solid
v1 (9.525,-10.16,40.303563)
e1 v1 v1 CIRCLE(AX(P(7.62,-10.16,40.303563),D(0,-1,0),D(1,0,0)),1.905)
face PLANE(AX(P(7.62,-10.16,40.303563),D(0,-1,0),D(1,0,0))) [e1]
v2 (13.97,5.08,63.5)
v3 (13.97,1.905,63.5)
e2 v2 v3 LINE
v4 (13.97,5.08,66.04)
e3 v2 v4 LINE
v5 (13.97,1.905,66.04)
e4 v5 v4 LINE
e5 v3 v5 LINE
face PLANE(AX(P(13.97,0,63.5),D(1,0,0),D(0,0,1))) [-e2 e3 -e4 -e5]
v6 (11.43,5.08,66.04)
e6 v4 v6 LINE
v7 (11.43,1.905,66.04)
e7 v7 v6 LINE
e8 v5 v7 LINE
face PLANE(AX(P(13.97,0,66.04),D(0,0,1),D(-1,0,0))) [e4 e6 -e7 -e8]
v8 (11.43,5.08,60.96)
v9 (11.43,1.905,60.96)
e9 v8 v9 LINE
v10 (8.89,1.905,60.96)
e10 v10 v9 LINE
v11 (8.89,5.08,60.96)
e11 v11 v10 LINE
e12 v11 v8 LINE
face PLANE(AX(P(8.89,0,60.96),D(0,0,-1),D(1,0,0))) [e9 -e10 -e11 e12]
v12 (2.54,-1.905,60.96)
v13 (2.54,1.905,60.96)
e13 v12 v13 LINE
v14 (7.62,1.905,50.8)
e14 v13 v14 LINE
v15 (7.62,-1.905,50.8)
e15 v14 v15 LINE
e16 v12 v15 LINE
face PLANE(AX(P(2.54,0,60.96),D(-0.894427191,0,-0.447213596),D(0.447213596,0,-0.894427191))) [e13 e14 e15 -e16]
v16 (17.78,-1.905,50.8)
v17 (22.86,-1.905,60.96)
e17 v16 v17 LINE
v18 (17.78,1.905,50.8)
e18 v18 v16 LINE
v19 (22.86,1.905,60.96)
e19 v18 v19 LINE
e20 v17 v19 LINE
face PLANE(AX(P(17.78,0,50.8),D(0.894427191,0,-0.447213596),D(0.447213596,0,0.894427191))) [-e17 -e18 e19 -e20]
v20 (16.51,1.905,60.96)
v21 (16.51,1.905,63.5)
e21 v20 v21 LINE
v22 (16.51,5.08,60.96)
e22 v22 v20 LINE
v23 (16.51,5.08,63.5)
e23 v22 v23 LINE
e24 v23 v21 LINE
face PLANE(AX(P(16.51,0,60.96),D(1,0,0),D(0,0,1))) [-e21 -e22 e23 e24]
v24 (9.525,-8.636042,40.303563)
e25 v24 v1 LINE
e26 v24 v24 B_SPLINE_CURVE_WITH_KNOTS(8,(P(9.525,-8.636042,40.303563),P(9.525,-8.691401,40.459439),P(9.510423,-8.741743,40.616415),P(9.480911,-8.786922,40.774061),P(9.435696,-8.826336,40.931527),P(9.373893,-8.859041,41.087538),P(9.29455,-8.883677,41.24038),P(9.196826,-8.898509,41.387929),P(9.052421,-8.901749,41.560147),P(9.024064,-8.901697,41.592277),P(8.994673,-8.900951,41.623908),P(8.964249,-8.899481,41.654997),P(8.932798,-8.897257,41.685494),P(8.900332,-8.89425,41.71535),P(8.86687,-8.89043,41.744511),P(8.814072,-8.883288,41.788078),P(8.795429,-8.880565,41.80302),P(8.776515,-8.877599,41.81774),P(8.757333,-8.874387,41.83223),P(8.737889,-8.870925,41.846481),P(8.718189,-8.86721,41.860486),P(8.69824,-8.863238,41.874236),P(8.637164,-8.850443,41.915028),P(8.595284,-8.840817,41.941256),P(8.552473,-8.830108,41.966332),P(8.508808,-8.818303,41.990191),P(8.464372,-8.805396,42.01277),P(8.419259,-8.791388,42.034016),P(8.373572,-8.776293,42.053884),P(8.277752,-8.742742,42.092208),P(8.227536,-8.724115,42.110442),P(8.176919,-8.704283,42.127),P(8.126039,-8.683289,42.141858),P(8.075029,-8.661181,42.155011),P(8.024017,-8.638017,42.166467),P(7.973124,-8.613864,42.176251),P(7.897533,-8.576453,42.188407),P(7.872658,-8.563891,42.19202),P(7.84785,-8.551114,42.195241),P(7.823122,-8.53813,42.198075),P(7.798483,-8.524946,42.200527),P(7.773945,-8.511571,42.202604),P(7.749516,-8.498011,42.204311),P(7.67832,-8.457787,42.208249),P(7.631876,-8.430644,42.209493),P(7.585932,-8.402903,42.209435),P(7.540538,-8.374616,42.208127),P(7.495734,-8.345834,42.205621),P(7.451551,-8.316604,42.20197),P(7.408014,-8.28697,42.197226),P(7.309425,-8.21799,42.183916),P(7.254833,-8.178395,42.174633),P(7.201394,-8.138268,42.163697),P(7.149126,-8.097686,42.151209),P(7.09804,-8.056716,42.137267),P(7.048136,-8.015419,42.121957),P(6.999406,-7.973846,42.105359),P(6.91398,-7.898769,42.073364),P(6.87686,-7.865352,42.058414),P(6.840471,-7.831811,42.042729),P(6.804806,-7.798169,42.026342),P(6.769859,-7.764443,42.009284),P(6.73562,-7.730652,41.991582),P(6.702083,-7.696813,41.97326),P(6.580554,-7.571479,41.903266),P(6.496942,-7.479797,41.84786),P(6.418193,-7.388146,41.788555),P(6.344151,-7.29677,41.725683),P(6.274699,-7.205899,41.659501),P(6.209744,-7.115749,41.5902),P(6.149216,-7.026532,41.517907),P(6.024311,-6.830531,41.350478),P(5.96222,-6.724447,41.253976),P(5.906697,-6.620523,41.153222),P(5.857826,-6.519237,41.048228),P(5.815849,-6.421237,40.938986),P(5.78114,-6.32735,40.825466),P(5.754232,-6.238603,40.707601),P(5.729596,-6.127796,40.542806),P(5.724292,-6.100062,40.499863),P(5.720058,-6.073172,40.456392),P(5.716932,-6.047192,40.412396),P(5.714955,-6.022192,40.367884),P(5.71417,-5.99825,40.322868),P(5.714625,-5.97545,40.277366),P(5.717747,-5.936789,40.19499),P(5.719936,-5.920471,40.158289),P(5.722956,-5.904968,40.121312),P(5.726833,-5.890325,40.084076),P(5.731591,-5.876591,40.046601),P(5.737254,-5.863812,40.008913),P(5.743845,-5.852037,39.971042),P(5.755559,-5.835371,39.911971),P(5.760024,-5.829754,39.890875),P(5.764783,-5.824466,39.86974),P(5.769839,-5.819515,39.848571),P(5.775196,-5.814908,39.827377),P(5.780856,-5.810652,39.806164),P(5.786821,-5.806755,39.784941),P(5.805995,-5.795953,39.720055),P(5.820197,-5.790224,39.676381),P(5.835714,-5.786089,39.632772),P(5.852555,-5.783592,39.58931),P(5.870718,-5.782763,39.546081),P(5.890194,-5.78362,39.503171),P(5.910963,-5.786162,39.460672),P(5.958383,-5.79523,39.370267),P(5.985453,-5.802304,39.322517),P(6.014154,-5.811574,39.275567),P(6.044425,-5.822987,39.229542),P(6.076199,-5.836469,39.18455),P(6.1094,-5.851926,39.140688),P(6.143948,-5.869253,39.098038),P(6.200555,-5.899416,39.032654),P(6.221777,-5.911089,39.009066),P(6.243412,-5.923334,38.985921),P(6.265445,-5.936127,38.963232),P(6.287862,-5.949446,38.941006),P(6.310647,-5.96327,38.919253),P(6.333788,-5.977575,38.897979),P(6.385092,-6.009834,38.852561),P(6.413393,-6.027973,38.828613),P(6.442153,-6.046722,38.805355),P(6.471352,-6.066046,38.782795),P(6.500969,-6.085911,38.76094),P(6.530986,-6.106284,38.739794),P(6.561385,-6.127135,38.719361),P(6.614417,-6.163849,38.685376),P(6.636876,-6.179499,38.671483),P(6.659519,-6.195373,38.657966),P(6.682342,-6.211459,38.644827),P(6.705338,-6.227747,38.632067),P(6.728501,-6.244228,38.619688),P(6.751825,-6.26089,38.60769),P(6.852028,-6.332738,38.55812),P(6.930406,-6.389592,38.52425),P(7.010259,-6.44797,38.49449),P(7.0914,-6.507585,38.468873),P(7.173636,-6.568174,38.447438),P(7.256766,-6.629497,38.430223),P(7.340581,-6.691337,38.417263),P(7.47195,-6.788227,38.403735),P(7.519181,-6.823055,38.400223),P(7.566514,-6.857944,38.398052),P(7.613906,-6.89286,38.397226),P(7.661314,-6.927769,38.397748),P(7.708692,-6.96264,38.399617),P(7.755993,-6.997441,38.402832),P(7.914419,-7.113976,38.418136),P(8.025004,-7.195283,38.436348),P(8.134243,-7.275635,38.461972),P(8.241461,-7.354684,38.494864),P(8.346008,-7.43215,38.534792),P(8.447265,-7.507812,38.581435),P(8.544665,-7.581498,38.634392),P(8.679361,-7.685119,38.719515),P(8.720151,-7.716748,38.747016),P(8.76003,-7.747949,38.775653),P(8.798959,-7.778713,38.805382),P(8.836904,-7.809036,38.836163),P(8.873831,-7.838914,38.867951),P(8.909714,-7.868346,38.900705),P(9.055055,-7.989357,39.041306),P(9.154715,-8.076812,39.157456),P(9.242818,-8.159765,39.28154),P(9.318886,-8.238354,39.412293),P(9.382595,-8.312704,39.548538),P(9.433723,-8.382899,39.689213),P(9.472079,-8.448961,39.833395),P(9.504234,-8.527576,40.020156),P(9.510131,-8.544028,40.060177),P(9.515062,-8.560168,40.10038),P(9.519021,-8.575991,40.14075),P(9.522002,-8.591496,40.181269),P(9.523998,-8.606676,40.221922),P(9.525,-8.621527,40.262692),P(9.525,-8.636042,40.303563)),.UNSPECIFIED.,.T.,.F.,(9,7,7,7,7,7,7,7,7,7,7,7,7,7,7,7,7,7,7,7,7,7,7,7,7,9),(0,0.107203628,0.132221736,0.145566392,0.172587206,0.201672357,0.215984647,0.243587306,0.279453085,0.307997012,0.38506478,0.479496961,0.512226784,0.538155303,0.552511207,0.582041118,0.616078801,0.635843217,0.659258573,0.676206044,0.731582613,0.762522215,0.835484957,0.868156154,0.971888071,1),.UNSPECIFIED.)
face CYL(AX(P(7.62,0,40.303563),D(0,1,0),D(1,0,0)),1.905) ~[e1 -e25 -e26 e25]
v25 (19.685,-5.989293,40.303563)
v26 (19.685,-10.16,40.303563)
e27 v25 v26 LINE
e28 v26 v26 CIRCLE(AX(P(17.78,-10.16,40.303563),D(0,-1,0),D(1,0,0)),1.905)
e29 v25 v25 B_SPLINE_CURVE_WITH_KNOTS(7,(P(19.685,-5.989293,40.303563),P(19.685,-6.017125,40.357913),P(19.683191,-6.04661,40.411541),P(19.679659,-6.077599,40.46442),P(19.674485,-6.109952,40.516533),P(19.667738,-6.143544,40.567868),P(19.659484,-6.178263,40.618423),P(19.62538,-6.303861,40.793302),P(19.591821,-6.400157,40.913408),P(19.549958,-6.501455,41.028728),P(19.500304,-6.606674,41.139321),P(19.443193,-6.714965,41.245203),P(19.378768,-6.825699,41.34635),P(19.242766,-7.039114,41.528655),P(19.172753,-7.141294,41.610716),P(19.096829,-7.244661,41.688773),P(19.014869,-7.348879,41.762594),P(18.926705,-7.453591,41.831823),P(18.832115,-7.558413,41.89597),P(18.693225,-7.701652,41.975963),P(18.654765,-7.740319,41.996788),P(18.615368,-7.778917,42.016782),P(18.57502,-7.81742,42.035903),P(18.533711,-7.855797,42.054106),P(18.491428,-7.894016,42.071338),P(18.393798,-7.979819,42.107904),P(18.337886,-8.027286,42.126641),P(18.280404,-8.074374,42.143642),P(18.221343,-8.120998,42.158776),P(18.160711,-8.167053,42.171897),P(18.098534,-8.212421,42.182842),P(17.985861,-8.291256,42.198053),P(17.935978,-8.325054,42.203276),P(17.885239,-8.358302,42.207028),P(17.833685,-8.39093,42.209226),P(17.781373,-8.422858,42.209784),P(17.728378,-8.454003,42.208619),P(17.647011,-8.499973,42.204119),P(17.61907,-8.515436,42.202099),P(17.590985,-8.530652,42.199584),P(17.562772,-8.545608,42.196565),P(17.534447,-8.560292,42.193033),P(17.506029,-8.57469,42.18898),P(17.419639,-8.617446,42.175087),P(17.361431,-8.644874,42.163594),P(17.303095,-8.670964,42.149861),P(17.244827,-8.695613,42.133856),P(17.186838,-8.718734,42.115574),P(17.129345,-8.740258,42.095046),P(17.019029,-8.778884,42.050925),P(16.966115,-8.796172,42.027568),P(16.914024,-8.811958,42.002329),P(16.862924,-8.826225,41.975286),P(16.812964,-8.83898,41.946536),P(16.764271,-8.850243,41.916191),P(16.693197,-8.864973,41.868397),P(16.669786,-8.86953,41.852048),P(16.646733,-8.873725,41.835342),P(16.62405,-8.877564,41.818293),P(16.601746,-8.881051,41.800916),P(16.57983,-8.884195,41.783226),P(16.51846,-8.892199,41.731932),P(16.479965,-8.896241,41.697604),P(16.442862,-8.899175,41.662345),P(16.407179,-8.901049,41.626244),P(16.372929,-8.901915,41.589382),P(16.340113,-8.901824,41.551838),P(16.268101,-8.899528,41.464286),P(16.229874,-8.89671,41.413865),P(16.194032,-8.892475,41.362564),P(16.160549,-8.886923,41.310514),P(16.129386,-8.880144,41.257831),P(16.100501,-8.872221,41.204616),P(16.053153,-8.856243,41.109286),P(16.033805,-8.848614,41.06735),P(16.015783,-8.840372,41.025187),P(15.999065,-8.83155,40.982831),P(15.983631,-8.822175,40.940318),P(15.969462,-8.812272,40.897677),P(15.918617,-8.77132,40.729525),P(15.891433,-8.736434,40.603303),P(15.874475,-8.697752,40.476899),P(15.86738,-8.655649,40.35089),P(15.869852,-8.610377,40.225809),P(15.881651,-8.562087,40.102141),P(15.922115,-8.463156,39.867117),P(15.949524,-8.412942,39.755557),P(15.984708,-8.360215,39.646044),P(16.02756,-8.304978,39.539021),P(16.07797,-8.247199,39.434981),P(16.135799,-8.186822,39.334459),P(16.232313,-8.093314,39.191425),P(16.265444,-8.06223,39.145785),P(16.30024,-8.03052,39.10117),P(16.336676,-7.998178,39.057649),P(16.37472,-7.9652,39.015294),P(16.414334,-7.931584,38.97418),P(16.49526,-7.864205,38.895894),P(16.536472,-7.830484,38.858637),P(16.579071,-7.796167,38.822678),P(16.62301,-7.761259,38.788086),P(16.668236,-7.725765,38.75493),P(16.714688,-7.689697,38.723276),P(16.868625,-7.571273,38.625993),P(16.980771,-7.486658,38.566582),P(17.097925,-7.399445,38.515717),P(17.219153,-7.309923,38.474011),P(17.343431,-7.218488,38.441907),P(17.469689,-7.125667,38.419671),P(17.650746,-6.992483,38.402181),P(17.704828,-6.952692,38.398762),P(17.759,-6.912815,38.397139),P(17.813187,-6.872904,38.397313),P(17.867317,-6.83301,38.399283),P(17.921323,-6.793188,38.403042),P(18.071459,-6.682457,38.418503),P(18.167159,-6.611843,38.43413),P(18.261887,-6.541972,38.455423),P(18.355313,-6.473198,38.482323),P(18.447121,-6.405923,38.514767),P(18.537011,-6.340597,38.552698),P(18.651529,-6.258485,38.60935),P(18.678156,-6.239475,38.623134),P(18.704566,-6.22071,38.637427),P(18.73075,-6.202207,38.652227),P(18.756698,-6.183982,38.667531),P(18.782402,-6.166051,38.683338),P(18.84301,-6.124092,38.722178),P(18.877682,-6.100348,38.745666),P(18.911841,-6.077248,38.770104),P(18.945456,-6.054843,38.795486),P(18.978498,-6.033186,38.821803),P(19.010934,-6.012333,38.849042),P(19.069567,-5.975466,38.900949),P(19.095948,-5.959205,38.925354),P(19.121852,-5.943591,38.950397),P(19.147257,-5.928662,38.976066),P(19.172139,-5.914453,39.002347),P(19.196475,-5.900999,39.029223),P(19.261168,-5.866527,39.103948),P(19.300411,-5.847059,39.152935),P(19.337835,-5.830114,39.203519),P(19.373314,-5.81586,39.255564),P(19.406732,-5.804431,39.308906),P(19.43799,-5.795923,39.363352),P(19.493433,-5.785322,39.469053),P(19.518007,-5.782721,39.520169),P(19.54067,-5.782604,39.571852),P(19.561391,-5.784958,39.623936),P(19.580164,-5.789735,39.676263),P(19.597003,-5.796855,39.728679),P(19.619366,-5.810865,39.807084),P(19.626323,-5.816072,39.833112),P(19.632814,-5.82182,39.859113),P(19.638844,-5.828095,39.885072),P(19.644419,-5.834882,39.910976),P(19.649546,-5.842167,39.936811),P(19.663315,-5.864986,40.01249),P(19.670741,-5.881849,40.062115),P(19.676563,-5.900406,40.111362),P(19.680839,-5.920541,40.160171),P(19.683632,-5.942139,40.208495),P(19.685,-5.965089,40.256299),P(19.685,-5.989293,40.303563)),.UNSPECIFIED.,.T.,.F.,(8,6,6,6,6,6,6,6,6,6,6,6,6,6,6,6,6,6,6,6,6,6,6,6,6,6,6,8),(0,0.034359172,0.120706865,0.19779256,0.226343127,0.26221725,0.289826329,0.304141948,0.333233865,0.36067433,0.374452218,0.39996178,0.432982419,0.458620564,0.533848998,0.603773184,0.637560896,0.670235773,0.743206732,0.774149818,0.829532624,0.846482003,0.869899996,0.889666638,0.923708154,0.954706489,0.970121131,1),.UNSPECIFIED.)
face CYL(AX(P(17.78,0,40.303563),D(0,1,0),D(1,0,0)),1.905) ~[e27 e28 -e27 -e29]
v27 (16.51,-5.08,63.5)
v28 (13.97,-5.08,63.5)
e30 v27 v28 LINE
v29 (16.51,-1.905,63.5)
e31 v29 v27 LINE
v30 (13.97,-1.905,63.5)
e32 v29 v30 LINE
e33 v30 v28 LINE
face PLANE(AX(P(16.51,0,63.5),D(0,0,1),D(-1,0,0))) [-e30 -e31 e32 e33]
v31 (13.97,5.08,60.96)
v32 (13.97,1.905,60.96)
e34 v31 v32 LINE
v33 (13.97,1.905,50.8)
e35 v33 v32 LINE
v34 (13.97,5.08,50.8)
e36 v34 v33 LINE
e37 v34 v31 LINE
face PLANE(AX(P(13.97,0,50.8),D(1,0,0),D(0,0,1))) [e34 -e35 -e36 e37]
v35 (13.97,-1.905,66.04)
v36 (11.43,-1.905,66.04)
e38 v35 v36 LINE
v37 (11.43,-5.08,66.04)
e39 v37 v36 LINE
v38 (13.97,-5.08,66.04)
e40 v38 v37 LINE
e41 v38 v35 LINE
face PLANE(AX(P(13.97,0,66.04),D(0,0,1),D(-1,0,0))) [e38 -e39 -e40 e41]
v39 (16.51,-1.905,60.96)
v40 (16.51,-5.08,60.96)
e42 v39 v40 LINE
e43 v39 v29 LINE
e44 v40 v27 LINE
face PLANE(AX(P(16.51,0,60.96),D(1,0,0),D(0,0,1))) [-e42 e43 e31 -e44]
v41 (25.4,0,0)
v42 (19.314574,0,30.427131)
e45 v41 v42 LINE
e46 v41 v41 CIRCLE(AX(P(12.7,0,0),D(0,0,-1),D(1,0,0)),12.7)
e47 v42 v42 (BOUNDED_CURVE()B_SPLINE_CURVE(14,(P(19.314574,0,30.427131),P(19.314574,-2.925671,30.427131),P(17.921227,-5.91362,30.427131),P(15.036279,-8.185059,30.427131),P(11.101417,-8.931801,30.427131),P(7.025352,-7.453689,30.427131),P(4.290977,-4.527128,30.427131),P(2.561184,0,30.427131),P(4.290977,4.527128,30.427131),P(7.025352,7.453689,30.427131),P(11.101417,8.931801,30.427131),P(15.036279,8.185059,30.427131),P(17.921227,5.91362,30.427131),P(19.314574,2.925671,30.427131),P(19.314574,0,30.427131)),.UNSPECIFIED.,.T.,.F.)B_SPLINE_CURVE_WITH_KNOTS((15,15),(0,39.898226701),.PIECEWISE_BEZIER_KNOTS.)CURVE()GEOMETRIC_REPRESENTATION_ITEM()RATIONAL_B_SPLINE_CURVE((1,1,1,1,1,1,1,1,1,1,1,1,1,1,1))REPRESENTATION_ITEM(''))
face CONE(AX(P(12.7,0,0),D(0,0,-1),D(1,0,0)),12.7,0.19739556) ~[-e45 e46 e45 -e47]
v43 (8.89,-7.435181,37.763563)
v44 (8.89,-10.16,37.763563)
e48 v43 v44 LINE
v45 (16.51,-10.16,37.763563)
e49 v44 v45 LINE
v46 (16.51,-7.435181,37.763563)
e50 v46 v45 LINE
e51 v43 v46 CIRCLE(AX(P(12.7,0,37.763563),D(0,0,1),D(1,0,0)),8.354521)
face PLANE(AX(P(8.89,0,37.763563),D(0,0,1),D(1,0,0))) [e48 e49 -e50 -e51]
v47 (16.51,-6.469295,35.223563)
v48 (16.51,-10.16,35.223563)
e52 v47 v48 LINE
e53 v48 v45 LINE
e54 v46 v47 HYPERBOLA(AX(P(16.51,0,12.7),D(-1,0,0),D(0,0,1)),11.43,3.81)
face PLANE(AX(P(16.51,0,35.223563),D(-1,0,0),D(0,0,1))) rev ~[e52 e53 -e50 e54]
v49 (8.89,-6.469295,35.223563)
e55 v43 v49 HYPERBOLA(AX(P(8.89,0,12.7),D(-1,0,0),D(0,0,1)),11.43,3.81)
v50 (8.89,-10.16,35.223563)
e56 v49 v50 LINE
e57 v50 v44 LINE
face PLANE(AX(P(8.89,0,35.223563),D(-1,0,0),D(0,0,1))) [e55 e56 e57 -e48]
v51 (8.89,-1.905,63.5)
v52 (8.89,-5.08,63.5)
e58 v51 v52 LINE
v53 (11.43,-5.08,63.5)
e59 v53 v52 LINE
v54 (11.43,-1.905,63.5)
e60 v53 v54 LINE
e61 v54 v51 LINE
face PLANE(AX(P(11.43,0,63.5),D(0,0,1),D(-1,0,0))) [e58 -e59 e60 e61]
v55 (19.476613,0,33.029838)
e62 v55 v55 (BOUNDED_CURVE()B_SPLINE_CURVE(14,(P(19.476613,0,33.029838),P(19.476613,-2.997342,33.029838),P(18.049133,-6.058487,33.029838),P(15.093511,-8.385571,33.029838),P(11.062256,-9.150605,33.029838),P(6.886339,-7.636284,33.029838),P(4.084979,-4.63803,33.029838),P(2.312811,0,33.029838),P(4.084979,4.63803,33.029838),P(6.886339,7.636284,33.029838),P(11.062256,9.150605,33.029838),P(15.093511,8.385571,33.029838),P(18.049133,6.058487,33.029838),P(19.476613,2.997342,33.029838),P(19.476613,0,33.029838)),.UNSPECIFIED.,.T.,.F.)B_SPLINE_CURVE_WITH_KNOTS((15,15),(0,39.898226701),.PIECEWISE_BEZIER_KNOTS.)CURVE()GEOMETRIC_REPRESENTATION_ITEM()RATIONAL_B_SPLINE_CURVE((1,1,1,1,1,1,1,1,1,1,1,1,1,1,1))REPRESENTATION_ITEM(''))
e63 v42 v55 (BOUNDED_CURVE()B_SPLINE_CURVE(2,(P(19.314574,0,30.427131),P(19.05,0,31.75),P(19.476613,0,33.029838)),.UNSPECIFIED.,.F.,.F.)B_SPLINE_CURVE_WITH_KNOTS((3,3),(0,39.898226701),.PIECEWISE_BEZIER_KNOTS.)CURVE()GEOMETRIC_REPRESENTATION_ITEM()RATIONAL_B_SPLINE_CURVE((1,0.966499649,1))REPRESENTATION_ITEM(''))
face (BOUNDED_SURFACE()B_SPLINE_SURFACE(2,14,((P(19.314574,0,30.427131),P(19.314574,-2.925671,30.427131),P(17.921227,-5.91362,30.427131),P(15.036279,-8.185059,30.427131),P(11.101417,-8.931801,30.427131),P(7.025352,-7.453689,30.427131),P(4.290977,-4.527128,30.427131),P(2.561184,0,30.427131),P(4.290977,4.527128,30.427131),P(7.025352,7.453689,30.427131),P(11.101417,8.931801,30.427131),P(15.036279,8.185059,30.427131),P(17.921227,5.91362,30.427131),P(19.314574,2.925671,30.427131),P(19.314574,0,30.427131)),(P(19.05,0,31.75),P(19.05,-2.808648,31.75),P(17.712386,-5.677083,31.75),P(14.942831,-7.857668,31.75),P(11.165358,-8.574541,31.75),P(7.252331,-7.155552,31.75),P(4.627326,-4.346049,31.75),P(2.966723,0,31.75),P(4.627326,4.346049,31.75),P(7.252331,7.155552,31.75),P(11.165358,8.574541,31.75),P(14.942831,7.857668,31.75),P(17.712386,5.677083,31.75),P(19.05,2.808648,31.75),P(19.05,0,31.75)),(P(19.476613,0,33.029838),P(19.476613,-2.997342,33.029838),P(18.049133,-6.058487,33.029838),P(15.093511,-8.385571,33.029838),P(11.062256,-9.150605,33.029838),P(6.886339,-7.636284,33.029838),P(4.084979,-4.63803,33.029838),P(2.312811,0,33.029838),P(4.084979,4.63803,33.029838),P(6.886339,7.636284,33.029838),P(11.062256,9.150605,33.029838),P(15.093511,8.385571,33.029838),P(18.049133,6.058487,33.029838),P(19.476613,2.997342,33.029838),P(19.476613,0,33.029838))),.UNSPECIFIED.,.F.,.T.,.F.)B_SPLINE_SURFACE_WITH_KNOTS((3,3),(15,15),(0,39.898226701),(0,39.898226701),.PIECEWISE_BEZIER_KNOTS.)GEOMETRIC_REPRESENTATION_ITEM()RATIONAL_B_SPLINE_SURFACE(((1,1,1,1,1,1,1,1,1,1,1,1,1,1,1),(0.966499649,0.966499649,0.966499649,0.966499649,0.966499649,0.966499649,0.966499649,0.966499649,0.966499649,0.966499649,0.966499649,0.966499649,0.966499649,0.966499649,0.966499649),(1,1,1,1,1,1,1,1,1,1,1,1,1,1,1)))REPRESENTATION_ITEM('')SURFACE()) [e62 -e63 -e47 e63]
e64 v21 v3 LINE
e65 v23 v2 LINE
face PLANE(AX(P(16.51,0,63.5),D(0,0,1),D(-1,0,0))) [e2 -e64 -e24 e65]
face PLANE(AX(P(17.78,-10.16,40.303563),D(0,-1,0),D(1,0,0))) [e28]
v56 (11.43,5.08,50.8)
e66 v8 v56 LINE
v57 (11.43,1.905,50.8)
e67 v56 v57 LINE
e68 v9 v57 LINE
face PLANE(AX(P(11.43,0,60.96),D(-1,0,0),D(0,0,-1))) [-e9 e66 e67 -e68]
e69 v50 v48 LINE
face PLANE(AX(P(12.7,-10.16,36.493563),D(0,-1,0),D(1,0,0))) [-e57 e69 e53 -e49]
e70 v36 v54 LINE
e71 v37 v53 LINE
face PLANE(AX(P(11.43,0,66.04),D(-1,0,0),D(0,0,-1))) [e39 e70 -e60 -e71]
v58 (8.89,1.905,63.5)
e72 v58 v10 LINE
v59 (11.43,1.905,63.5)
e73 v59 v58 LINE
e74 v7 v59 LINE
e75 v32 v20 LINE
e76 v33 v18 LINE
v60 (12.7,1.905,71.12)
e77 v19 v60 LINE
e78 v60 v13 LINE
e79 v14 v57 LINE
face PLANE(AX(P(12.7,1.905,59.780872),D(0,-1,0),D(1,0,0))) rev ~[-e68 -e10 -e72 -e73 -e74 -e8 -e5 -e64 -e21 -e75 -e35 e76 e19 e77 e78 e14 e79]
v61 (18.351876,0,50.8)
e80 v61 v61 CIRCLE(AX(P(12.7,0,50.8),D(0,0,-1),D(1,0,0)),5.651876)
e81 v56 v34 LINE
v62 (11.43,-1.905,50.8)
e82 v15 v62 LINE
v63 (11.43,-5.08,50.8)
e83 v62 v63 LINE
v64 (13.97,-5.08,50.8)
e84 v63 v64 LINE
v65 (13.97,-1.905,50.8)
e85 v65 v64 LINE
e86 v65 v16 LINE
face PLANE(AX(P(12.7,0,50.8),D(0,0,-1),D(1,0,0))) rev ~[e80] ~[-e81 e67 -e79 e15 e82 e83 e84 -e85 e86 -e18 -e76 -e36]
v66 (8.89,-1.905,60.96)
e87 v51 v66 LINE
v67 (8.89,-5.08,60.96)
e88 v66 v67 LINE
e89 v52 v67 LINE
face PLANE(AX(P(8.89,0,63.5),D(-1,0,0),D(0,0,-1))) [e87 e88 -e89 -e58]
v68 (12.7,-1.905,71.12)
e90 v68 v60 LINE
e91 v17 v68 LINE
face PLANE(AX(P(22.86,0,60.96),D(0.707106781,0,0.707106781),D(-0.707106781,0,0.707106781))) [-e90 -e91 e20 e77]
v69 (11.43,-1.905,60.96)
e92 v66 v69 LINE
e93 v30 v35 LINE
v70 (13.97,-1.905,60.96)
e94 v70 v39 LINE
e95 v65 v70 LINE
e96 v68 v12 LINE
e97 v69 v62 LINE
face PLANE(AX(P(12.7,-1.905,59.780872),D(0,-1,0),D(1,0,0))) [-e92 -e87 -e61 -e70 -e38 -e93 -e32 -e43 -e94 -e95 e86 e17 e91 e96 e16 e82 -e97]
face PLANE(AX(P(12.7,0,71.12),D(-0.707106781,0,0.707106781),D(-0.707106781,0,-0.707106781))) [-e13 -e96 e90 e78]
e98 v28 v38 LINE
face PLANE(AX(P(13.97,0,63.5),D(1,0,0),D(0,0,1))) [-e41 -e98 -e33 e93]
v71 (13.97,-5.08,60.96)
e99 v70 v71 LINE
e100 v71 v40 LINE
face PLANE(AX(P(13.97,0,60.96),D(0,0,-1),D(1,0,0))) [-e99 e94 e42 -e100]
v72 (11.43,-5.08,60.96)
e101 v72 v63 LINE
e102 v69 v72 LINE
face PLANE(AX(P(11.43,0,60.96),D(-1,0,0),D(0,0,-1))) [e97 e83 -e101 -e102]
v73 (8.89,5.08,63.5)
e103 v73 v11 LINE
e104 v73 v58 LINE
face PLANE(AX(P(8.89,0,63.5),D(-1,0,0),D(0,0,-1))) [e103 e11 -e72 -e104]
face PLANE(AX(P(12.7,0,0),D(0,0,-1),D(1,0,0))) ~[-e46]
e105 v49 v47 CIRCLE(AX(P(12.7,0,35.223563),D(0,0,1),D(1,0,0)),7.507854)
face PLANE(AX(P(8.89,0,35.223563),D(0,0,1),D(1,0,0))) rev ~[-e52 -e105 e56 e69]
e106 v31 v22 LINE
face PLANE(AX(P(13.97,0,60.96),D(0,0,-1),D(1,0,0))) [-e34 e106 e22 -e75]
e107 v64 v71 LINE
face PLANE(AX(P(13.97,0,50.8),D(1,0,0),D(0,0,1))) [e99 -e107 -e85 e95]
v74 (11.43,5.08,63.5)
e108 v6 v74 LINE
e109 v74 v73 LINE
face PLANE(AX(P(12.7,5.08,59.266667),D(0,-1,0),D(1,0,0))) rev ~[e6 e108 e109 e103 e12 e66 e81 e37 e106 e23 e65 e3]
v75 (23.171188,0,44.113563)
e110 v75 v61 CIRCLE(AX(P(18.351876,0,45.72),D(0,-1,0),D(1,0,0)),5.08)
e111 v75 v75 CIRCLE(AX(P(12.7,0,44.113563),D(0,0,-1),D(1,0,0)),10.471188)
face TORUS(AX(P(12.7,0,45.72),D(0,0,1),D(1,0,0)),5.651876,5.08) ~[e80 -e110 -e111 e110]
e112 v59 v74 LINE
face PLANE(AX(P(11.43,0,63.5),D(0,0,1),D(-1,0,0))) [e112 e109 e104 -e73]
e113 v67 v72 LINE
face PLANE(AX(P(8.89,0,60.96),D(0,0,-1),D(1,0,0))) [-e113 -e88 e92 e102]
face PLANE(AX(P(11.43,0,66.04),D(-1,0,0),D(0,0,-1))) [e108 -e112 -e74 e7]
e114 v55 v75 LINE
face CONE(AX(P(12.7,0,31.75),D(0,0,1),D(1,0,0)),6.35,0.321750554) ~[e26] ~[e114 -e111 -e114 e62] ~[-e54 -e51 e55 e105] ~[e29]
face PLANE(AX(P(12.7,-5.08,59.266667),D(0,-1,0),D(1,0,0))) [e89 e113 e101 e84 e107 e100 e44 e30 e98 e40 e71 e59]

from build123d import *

# Parameters (mm, degrees)
F2_R     = 5.08
F4_DEPTH = 1.905
F6_DEPTH = 5.08
F7_R     = 1.905
F7_W     = 7.62
F7_H     = 2.54
F8_DEPTH = 10.16


with BuildPart() as f1:
    # F0 (on Front) → F1 (revolve)
    with BuildSketch(Plane.XZ):
        Polygon((12.7, 50.8), (12.7, 0), (25.4, 0), (19.05, 31.75), (25.4, 50.8), align=None)
    revolve(axis=Axis((12.7, 0, 25.4), (0, 0, -1)))

    # F2
    f2_edges = [f1.edges().sort_by_distance(p)[0] for p in [
        (0, 0, 50.8),
        (6.35, 0, 31.75),
    ]]
    fillet(f2_edges, radius=F2_R)

    # F3 (on Front) → F4 (join, symmetric)
    with BuildSketch(Plane.XZ):
        Polygon((2.54, 60.96), (7.62, 50.8), (17.78, 50.8), (22.86, 60.96), (12.7, 71.12), align=None)
    extrude(amount=F4_DEPTH, both=True)

    # F5 (on Front) → F6 (join, symmetric)
    with BuildSketch(Plane.XZ):
        Polygon((11.43, 63.5), (8.89, 63.5), (8.89, 60.96), (11.43, 60.96), (11.43, 50.8), (13.97, 50.8), (13.97, 60.96), (16.51, 60.96), (16.51, 63.5), (13.97, 63.5), (13.97, 66.04), (11.43, 66.04), align=None)
    extrude(amount=F6_DEPTH, both=True)

    # F7 (on Front) → F8 (join)
    with BuildSketch(Plane.XZ):
        with Locations((7.62, 40.3035629486)):
            Circle(F7_R)
        with Locations((17.78, 40.3035629486)):
            Circle(F7_R)
        with Locations((12.7, 36.4935629486)):
            Rectangle(F7_W, F7_H)
    extrude(amount=F8_DEPTH)


solid = f1.part
